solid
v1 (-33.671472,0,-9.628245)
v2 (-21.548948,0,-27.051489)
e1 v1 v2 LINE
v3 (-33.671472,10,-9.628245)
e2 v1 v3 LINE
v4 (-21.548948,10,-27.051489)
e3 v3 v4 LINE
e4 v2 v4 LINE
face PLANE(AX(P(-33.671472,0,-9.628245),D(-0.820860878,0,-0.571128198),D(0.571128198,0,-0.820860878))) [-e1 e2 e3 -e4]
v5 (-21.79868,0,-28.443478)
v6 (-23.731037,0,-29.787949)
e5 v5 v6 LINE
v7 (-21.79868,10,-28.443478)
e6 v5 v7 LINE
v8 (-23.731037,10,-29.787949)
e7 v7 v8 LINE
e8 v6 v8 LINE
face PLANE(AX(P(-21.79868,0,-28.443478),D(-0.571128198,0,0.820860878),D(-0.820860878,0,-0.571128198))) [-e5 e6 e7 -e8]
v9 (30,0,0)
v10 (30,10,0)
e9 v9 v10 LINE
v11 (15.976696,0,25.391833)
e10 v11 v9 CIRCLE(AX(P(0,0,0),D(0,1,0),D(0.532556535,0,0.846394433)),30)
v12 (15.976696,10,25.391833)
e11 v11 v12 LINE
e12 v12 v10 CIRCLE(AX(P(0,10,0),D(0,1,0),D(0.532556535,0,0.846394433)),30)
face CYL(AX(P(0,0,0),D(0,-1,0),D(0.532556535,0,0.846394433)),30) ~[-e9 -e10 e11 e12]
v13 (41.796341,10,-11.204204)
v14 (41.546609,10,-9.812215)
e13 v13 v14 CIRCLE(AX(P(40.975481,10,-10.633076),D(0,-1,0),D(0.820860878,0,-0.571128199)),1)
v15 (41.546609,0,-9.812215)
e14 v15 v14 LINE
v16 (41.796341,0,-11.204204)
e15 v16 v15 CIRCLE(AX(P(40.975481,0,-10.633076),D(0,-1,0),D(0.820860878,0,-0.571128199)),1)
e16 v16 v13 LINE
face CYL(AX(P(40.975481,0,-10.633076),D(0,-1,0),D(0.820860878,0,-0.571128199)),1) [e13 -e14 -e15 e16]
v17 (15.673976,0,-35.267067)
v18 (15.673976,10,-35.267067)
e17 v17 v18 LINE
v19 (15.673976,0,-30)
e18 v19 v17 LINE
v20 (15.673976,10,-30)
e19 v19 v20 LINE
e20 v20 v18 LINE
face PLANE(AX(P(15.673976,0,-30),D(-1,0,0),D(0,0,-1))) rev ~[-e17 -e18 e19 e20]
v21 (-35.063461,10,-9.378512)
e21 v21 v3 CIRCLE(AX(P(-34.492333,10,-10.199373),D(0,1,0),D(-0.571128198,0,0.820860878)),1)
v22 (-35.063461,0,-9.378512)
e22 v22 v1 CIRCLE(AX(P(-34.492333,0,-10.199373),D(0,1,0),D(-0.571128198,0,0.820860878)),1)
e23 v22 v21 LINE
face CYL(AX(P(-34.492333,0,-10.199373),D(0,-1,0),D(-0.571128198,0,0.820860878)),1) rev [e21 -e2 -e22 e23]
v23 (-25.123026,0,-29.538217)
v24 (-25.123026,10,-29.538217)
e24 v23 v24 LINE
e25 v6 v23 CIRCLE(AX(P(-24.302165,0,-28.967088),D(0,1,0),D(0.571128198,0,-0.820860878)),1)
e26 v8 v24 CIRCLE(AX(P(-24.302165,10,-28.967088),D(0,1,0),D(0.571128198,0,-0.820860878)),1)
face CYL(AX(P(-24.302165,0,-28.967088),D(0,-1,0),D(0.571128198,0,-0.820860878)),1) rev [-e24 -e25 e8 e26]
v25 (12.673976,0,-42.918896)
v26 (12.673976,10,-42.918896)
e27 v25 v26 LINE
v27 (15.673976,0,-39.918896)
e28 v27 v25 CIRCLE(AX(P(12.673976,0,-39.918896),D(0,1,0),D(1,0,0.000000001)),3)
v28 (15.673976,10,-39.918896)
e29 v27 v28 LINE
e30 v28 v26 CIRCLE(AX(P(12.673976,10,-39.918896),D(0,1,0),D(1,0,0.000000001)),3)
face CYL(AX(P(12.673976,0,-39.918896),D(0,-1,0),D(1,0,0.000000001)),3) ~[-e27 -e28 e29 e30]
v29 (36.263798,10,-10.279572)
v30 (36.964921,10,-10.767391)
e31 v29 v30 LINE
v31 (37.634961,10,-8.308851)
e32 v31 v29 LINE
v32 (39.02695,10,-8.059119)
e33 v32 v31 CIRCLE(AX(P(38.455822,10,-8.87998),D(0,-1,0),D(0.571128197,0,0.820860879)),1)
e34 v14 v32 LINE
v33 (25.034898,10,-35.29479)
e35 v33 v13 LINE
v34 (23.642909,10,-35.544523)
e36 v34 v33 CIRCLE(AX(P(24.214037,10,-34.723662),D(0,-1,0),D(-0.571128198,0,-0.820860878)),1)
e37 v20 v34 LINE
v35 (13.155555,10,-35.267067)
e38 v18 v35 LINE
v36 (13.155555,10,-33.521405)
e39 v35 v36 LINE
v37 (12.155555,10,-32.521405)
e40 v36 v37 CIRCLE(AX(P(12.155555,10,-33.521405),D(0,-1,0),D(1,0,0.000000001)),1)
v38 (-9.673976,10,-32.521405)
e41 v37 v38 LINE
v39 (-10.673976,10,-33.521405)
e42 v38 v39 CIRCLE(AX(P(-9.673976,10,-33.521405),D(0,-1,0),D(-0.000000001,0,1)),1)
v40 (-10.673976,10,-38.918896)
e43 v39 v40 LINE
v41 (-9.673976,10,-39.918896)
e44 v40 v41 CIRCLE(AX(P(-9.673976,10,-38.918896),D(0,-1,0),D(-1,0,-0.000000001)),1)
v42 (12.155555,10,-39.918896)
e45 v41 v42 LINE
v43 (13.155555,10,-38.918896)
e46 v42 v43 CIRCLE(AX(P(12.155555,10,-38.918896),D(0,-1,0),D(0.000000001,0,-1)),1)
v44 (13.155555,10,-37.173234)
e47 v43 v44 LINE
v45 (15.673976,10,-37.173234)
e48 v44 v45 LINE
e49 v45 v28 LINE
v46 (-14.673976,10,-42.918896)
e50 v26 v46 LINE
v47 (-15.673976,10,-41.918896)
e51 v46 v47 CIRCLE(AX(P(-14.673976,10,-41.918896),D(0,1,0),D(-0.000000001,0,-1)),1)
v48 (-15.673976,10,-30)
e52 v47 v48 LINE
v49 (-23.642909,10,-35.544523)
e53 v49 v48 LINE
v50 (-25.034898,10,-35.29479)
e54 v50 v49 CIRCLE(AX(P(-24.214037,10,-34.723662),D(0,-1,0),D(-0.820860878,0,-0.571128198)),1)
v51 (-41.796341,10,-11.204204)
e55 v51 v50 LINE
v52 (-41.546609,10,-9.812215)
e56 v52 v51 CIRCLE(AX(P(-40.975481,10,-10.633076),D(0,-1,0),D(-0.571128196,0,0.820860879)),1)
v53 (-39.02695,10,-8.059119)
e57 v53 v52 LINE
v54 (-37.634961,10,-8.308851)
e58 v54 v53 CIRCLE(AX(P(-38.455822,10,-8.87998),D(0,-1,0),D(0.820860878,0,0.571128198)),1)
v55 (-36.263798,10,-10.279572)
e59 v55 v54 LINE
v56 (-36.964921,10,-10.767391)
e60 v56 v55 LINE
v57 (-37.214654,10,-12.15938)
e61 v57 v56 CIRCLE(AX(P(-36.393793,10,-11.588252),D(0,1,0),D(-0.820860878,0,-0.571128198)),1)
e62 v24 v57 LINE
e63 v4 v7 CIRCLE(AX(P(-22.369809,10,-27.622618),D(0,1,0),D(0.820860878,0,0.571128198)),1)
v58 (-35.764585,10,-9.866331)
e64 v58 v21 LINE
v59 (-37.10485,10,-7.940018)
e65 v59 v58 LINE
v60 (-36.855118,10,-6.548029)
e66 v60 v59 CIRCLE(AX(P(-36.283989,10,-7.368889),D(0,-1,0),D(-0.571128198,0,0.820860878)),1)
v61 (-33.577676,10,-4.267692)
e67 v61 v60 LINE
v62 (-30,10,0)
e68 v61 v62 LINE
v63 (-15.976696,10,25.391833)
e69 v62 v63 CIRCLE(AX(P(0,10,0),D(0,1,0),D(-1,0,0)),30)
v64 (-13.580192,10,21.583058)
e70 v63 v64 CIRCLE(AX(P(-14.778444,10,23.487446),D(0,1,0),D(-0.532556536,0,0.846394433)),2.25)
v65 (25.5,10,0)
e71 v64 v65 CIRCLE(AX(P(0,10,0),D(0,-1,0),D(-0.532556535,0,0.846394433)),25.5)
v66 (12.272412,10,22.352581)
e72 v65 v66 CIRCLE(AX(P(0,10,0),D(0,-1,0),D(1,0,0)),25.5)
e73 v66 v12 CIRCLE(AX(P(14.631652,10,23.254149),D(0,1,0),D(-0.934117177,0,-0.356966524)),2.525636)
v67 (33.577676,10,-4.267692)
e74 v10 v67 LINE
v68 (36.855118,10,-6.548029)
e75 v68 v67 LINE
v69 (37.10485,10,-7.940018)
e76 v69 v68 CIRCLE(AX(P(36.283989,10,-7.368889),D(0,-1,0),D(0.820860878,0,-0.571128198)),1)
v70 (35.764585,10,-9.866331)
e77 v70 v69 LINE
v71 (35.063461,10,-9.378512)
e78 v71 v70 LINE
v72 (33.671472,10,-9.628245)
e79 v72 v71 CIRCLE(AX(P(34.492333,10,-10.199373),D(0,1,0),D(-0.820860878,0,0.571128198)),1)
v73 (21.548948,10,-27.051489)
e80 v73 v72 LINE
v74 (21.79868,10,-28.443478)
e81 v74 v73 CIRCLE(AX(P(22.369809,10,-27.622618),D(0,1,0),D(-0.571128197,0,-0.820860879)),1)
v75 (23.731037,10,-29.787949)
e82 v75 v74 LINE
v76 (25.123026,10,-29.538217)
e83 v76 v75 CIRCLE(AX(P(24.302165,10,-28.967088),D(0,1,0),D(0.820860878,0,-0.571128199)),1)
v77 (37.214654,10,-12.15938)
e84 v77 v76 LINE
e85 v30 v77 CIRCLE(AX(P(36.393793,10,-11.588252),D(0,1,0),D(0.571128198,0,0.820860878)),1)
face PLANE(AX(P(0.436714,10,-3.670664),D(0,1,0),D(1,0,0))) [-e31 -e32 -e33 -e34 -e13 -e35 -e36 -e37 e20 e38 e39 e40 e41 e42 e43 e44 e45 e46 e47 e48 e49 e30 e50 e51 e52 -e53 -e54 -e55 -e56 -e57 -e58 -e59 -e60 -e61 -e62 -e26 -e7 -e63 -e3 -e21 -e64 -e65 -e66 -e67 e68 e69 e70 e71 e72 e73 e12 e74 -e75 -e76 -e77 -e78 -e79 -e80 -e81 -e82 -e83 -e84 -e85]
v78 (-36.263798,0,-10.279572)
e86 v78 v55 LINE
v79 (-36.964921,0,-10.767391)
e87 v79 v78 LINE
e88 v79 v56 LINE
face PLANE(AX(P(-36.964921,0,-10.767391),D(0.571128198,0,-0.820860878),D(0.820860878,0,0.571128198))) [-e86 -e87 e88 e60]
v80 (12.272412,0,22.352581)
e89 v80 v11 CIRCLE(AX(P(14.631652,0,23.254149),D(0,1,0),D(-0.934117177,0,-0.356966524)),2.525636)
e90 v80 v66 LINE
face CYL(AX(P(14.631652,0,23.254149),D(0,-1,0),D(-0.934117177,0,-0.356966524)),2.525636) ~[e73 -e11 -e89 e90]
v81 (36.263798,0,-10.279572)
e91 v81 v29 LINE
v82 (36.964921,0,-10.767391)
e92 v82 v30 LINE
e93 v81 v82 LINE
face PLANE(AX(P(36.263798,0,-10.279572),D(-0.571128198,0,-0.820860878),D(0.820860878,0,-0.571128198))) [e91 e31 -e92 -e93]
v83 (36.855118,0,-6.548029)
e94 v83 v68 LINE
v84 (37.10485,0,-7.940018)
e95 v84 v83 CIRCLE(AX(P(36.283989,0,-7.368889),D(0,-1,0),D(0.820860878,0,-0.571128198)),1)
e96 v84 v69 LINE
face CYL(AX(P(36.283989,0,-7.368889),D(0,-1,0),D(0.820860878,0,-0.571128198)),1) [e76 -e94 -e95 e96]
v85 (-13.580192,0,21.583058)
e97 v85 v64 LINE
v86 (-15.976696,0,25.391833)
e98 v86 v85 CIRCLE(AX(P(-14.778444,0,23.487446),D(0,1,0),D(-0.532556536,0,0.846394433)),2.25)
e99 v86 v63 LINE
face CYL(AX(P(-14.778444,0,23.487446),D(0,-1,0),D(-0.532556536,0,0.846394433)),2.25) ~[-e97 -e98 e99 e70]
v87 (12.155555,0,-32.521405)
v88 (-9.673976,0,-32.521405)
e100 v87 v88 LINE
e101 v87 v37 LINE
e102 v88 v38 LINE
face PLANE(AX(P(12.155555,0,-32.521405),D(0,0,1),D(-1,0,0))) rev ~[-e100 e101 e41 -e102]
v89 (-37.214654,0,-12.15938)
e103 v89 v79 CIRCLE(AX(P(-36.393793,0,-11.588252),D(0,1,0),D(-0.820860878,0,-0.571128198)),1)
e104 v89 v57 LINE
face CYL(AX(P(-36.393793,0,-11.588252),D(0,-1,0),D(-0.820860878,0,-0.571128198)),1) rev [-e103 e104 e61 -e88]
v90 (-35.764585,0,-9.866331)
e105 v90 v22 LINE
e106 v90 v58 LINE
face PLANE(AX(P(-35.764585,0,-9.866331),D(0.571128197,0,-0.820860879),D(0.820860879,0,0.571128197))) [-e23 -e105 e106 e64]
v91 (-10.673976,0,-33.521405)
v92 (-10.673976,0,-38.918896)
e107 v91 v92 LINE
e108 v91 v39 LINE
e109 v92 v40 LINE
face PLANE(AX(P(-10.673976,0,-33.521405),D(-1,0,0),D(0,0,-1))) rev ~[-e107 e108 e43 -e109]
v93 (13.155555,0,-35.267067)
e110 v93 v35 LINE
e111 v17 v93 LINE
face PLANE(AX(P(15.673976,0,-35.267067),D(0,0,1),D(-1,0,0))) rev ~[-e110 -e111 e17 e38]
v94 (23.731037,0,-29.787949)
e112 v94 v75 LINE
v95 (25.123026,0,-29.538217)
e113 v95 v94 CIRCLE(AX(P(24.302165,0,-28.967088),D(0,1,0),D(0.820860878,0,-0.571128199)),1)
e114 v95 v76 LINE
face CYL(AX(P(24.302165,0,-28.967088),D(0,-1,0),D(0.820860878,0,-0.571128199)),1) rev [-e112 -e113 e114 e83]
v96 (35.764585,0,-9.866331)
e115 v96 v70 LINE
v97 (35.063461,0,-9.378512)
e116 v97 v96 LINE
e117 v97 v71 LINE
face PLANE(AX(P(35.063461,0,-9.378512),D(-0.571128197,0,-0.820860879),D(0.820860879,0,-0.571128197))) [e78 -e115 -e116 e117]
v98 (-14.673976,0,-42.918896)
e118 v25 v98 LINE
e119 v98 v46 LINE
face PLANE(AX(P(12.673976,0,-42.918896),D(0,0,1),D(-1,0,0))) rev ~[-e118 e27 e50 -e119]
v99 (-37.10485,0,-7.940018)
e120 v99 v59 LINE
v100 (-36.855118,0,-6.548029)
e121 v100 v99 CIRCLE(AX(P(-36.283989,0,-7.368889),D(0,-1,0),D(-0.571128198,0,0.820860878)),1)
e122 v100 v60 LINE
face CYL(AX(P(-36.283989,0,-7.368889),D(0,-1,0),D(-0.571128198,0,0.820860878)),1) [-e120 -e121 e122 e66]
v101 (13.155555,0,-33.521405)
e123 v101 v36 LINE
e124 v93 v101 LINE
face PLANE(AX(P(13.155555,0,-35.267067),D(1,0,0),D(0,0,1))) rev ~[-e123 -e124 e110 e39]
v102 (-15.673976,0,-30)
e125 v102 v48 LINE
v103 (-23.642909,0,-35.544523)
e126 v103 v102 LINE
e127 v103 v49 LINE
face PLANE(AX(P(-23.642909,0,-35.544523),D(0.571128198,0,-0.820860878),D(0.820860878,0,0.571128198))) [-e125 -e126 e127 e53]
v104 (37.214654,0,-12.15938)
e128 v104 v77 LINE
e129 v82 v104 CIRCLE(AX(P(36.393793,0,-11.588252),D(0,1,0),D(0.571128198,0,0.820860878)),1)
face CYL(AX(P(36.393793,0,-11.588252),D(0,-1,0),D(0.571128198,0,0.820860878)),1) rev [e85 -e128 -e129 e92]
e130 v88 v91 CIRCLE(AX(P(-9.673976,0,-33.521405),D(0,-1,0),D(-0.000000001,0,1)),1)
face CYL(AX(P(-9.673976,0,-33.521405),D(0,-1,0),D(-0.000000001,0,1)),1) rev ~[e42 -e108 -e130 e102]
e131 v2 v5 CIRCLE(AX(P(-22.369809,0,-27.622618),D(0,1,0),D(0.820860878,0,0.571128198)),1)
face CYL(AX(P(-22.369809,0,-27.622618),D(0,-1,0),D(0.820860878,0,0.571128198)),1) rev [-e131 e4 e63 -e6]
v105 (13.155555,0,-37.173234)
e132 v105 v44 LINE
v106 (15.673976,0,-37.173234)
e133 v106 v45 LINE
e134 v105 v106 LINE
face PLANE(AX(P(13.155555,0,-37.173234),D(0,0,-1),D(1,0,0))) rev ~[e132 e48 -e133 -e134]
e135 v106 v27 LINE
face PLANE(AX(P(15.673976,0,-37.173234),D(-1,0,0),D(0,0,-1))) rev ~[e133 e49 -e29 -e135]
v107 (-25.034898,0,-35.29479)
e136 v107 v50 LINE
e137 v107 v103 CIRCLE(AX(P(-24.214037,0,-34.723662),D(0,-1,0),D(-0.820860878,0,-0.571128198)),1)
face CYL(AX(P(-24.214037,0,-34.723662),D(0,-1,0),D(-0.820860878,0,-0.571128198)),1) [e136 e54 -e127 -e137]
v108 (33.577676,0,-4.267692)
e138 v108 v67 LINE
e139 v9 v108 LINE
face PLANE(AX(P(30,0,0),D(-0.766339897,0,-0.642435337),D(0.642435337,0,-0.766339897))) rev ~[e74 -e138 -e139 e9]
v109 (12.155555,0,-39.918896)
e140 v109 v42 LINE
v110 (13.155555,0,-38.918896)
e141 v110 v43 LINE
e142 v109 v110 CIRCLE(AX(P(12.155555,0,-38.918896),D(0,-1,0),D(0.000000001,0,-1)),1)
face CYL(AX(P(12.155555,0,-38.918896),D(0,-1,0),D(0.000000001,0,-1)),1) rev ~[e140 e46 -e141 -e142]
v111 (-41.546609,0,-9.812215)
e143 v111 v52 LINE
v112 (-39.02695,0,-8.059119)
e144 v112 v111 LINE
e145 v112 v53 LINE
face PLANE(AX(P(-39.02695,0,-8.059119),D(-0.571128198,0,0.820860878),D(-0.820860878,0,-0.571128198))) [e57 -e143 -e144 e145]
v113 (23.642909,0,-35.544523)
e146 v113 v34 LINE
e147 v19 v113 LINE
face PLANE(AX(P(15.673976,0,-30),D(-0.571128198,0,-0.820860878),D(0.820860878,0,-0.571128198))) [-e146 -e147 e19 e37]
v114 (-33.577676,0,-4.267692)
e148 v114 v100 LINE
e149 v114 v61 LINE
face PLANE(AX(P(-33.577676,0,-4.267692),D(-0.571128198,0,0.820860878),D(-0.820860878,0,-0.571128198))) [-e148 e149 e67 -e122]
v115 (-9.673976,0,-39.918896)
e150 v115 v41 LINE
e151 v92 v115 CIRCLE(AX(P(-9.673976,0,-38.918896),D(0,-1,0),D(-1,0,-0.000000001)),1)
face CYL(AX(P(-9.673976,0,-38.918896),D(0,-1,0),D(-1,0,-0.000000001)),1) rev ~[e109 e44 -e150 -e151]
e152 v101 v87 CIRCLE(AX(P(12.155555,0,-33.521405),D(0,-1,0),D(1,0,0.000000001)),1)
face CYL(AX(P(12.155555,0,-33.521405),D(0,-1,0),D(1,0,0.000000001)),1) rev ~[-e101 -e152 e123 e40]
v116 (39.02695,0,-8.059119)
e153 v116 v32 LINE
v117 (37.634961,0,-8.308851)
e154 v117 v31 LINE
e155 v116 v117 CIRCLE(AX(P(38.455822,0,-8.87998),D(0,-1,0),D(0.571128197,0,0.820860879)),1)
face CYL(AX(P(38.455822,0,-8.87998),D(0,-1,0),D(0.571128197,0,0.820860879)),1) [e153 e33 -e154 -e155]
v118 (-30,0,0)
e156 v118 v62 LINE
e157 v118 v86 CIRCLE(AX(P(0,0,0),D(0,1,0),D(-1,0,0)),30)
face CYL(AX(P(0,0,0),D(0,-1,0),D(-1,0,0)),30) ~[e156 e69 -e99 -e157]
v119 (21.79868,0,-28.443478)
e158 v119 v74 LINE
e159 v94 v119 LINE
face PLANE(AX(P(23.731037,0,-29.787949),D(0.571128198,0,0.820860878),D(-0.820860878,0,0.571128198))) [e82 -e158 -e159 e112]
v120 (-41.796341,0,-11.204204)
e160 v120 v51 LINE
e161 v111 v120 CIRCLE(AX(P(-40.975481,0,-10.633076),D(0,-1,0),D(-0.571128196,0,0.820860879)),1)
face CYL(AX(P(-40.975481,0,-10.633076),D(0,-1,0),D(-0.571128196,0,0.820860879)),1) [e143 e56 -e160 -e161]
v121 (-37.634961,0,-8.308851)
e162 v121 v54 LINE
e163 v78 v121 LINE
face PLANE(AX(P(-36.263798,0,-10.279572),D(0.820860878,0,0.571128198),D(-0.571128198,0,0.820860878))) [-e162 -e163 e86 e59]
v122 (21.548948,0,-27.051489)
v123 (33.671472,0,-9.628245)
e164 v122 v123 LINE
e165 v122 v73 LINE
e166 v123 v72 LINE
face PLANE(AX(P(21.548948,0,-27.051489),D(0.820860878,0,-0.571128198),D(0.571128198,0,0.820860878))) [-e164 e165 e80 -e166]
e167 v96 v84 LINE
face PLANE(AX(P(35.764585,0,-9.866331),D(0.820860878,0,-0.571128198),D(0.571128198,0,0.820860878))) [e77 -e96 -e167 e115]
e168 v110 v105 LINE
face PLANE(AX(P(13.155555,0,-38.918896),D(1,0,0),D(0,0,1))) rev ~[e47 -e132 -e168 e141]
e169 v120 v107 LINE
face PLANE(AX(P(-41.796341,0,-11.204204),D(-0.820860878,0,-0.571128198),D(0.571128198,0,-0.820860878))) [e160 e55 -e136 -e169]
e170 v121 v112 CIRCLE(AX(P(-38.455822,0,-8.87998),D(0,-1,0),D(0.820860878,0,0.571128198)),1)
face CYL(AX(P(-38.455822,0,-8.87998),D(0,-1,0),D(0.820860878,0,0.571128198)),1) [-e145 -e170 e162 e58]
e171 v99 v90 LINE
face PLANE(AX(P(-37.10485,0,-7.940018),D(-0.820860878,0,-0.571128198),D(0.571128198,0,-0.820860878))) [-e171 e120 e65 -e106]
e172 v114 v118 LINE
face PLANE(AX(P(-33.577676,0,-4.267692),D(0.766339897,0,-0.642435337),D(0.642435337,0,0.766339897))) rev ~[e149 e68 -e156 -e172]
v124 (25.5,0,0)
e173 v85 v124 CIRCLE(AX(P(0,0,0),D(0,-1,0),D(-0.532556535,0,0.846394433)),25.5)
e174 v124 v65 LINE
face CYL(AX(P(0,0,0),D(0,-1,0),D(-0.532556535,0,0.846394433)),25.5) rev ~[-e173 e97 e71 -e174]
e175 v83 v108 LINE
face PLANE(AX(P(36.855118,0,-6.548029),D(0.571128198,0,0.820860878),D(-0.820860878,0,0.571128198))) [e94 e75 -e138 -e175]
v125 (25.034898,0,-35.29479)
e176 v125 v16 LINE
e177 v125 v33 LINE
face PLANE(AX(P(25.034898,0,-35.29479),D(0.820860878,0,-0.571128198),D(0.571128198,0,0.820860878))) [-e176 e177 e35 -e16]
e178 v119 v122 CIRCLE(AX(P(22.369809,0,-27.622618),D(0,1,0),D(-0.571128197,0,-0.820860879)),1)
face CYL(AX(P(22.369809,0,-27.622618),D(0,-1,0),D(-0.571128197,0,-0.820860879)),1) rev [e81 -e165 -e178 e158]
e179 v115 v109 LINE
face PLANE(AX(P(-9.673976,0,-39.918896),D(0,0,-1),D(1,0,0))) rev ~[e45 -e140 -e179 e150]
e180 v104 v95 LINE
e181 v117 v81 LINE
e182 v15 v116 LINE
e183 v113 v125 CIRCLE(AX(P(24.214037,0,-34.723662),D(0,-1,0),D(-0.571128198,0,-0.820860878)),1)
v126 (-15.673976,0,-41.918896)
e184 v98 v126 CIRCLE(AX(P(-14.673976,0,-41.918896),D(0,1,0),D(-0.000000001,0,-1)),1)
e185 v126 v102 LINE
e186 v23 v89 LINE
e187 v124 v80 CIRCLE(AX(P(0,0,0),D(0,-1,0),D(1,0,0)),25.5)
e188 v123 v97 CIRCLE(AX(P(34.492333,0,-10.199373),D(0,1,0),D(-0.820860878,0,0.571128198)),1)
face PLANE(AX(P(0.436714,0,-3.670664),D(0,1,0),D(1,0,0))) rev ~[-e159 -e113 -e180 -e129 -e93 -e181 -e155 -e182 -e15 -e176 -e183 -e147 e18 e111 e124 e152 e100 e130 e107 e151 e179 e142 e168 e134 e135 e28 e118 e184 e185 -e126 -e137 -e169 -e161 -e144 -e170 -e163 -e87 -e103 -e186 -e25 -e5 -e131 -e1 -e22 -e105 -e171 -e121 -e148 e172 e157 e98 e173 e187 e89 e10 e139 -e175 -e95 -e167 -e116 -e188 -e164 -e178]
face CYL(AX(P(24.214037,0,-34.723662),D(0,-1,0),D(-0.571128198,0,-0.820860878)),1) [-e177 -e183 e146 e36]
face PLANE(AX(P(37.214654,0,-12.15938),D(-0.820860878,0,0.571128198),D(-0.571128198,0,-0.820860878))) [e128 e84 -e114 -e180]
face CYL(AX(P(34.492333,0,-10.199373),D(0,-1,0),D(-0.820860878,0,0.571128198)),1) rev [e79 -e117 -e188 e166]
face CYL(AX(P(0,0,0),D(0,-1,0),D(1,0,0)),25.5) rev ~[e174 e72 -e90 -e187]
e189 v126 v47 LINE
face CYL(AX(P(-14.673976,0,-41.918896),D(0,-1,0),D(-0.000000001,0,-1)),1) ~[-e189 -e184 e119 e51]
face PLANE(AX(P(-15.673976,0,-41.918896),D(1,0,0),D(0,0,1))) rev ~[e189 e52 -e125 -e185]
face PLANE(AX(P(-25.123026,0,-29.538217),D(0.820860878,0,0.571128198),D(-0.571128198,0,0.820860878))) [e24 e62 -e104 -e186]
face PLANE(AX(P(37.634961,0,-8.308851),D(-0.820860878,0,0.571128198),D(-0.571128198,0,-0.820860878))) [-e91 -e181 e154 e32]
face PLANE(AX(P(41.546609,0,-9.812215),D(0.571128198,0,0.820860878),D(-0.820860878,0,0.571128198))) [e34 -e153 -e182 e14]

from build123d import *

# Parameters (mm, degrees)
BOSS_EXTRUDE1_DEPTH = 10


with BuildPart() as part:
    # Sketch1 → Boss-Extrude1 (new body)
    with BuildSketch(Plane(origin=(0, 0, 0), x_dir=(1, 0, 0), z_dir=(0, 1, 0))):
        with BuildLine():
            ThreePointArc((0, 30), (-13.892167355, 26.589616135), (-24.625826483, 17.133845746))
            ThreePointArc((-24.625826483, 17.133845746), (-28.62494362, 8.978452136), (-30, 0))
            ThreePointArc((-30, 0), (-26.261196487, -14.503432665), (-15.976696063, -25.391832996))
            ThreePointArc((-15.976696063, -25.391832996), (-12.874056383, -24.685697726), (-13.580191653, -21.583058047))
            ThreePointArc((-13.580191653, -21.583058047), (-12.327917765, 22.322017014), (25.5, 0))
            ThreePointArc((25.5, 0), (21.945347053, -12.986598583), (12.272412334, -22.352581406))
            ThreePointArc((12.272412334, -22.352581406), (13.029650018, -25.206692228), (15.976696063, -25.391832996))
            ThreePointArc((15.976696063, -25.391832996), (26.261196487, -14.503432665), (30, 0))
            ThreePointArc((30, 0), (28.624943418, 8.978452779), (24.625825713, 17.133846852))
            ThreePointArc((24.625825713, 17.133846852), (13.892166758, 26.589616447), (0, 30))
        make_face()
        with BuildLine():
            Line((-24.625826483, 17.133845746), (-33.577676267, 4.267691868))
            Line((-33.577676267, 4.267691868), (-30, 0))
            ThreePointArc((-30, 0), (-28.62494362, 8.978452136), (-24.625826483, 17.133845746))
        make_face()
        with BuildLine():
            Line((-36.964920826, 10.767390882), (-36.263797685, 10.279572292))
            Line((-36.263797685, 10.279572292), (-37.634960984, 8.308851333))
            ThreePointArc((-37.634960984, 8.308851333), (-38.27923419, 7.895694616), (-39.02695006, 8.059118652))
            Line((-39.02695006, 8.059118652), (-41.546608741, 9.812214895))
            ThreePointArc((-41.546608741, 9.812214895), (-41.959765459, 10.456488101), (-41.796341422, 11.204203971))
            Line((-41.796341422, 11.204203971), (-25.034897988, 35.294790347))
            ThreePointArc((-25.034897988, 35.294790347), (-24.390624781, 35.707947064), (-23.642908912, 35.544523027))
            Line((-23.642908912, 35.544523027), (-15.673976437, 30))
            Line((-15.673976437, 30), (-33.577676267, 4.267691868))
            Line((-33.577676267, 4.267691868), (-36.855117659, 6.548028579))
            ThreePointArc((-36.855117659, 6.548028579), (-37.268274376, 7.192301785), (-37.104850339, 7.940017655))
            Line((-37.104850339, 7.940017655), (-35.764584616, 9.866330702))
            Line((-35.764584616, 9.866330702), (-35.063461475, 9.378512113))
            ThreePointArc((-35.063461475, 9.378512113), (-34.315745606, 9.215088076), (-33.671472399, 9.628244793))
            Line((-33.671472399, 9.628244793), (-21.548947673, 27.051489405))
            ThreePointArc((-21.548947673, 27.051489405), (-21.385523636, 27.799205275), (-21.798680354, 28.443478482))
            Line((-21.798680354, 28.443478482), (-23.731037279, 29.787949338))
            ThreePointArc((-23.731037279, 29.787949338), (-24.478753149, 29.951373375), (-25.123026356, 29.538216658))
            Line((-25.123026356, 29.538216658), (-37.214653506, 12.159379958))
            ThreePointArc((-37.214653506, 12.159379958), (-37.378077543, 11.411664088), (-36.964920826, 10.767390882))
        make_face()
        with BuildLine():
            Line((-10.673976437, 33.521405271), (-10.673976437, 38.918895687))
            ThreePointArc((-10.673976437, 38.918895687), (-10.381083218, 39.626002468), (-9.673976437, 39.918895687))
            Line((-9.673976437, 39.918895687), (12.155554915, 39.918895687))
            ThreePointArc((12.155554915, 39.918895687), (12.862661696, 39.626002468), (13.155554915, 38.918895687))
            Line((13.155554915, 38.918895687), (13.155554915, 37.173234143))
            Line((13.155554915, 37.173234143), (15.673976437, 37.173234143))
            Line((15.673976437, 37.173234143), (15.673976437, 39.918895687))
            ThreePointArc((15.673976437, 39.918895687), (14.795296781, 42.040216031), (12.673976437, 42.918895687))
            Line((12.673976437, 42.918895687), (-14.673976437, 42.918895687))
            ThreePointArc((-14.673976437, 42.918895687), (-15.381083218, 42.626002468), (-15.673976437, 41.918895687))
            Line((-15.673976437, 41.918895687), (-15.673976437, 30))
            Line((-15.673976437, 30), (0, 30))
            Line((0, 30), (15.673976437, 30))
            Line((15.673976437, 30), (15.673976437, 35.267066815))
            Line((15.673976437, 35.267066815), (13.155554915, 35.267066815))
            Line((13.155554915, 35.267066815), (13.155554915, 33.521405271))
            ThreePointArc((13.155554915, 33.521405271), (12.862661696, 32.81429849), (12.155554915, 32.521405271))
            Line((12.155554915, 32.521405271), (-9.673976437, 32.521405271))
            ThreePointArc((-9.673976437, 32.521405271), (-10.381083218, 32.81429849), (-10.673976437, 33.521405271))
        make_face()
        with BuildLine():
            ThreePointArc((37.104850339, 7.940017655), (37.268274376, 7.192301785), (36.855117659, 6.548028579))
            Line((36.855117659, 6.548028579), (33.577676267, 4.267691868))
            Line((33.577676267, 4.267691868), (15.673976437, 30))
            Line((15.673976437, 30), (23.642908912, 35.544523027))
            ThreePointArc((23.642908912, 35.544523027), (24.390624781, 35.707947064), (25.034897988, 35.294790347))
            Line((25.034897988, 35.294790347), (41.796341422, 11.204203971))
            ThreePointArc((41.796341422, 11.204203971), (41.959765459, 10.456488101), (41.546608741, 9.812214895))
            Line((41.546608741, 9.812214895), (39.02695006, 8.059118652))
            ThreePointArc((39.02695006, 8.059118652), (38.27923419, 7.895694616), (37.634960984, 8.308851333))
            Line((37.634960984, 8.308851333), (36.263797685, 10.279572292))
            Line((36.263797685, 10.279572292), (36.964920826, 10.767390882))
            ThreePointArc((36.964920826, 10.767390882), (37.378077543, 11.411664088), (37.214653506, 12.159379958))
            Line((37.214653506, 12.159379958), (25.123026356, 29.538216658))
            ThreePointArc((25.123026356, 29.538216658), (24.478753149, 29.951373375), (23.731037279, 29.787949338))
            Line((23.731037279, 29.787949338), (21.798680354, 28.443478482))
            ThreePointArc((21.798680354, 28.443478482), (21.385523636, 27.799205275), (21.548947673, 27.051489405))
            Line((21.548947673, 27.051489405), (33.671472399, 9.628244793))
            ThreePointArc((33.671472399, 9.628244793), (34.315745606, 9.215088076), (35.063461475, 9.378512113))
            Line((35.063461475, 9.378512113), (35.764584616, 9.866330702))
            Line((35.764584616, 9.866330702), (37.104850339, 7.940017655))
        make_face()
        with BuildLine():
            Line((-15.673976437, 30), (-24.625826483, 17.133845746))
            ThreePointArc((-24.625826483, 17.133845746), (-13.892167355, 26.589616135), (0, 30))
            Line((0, 30), (-15.673976437, 30))
        make_face()
        with BuildLine():
            Line((15.673976437, 30), (0, 30))
            ThreePointArc((0, 30), (13.892166758, 26.589616447), (24.625825713, 17.133846852))
            Line((24.625825713, 17.133846852), (15.673976437, 30))
        make_face()
        with BuildLine():
            Line((33.577676267, 4.267691868), (24.625825713, 17.133846852))
            ThreePointArc((24.625825713, 17.133846852), (28.624943418, 8.978452779), (30, 0))
            Line((30, 0), (33.577676267, 4.267691868))
        make_face()
    extrude(amount=BOSS_EXTRUDE1_DEPTH)


solid = part.part
